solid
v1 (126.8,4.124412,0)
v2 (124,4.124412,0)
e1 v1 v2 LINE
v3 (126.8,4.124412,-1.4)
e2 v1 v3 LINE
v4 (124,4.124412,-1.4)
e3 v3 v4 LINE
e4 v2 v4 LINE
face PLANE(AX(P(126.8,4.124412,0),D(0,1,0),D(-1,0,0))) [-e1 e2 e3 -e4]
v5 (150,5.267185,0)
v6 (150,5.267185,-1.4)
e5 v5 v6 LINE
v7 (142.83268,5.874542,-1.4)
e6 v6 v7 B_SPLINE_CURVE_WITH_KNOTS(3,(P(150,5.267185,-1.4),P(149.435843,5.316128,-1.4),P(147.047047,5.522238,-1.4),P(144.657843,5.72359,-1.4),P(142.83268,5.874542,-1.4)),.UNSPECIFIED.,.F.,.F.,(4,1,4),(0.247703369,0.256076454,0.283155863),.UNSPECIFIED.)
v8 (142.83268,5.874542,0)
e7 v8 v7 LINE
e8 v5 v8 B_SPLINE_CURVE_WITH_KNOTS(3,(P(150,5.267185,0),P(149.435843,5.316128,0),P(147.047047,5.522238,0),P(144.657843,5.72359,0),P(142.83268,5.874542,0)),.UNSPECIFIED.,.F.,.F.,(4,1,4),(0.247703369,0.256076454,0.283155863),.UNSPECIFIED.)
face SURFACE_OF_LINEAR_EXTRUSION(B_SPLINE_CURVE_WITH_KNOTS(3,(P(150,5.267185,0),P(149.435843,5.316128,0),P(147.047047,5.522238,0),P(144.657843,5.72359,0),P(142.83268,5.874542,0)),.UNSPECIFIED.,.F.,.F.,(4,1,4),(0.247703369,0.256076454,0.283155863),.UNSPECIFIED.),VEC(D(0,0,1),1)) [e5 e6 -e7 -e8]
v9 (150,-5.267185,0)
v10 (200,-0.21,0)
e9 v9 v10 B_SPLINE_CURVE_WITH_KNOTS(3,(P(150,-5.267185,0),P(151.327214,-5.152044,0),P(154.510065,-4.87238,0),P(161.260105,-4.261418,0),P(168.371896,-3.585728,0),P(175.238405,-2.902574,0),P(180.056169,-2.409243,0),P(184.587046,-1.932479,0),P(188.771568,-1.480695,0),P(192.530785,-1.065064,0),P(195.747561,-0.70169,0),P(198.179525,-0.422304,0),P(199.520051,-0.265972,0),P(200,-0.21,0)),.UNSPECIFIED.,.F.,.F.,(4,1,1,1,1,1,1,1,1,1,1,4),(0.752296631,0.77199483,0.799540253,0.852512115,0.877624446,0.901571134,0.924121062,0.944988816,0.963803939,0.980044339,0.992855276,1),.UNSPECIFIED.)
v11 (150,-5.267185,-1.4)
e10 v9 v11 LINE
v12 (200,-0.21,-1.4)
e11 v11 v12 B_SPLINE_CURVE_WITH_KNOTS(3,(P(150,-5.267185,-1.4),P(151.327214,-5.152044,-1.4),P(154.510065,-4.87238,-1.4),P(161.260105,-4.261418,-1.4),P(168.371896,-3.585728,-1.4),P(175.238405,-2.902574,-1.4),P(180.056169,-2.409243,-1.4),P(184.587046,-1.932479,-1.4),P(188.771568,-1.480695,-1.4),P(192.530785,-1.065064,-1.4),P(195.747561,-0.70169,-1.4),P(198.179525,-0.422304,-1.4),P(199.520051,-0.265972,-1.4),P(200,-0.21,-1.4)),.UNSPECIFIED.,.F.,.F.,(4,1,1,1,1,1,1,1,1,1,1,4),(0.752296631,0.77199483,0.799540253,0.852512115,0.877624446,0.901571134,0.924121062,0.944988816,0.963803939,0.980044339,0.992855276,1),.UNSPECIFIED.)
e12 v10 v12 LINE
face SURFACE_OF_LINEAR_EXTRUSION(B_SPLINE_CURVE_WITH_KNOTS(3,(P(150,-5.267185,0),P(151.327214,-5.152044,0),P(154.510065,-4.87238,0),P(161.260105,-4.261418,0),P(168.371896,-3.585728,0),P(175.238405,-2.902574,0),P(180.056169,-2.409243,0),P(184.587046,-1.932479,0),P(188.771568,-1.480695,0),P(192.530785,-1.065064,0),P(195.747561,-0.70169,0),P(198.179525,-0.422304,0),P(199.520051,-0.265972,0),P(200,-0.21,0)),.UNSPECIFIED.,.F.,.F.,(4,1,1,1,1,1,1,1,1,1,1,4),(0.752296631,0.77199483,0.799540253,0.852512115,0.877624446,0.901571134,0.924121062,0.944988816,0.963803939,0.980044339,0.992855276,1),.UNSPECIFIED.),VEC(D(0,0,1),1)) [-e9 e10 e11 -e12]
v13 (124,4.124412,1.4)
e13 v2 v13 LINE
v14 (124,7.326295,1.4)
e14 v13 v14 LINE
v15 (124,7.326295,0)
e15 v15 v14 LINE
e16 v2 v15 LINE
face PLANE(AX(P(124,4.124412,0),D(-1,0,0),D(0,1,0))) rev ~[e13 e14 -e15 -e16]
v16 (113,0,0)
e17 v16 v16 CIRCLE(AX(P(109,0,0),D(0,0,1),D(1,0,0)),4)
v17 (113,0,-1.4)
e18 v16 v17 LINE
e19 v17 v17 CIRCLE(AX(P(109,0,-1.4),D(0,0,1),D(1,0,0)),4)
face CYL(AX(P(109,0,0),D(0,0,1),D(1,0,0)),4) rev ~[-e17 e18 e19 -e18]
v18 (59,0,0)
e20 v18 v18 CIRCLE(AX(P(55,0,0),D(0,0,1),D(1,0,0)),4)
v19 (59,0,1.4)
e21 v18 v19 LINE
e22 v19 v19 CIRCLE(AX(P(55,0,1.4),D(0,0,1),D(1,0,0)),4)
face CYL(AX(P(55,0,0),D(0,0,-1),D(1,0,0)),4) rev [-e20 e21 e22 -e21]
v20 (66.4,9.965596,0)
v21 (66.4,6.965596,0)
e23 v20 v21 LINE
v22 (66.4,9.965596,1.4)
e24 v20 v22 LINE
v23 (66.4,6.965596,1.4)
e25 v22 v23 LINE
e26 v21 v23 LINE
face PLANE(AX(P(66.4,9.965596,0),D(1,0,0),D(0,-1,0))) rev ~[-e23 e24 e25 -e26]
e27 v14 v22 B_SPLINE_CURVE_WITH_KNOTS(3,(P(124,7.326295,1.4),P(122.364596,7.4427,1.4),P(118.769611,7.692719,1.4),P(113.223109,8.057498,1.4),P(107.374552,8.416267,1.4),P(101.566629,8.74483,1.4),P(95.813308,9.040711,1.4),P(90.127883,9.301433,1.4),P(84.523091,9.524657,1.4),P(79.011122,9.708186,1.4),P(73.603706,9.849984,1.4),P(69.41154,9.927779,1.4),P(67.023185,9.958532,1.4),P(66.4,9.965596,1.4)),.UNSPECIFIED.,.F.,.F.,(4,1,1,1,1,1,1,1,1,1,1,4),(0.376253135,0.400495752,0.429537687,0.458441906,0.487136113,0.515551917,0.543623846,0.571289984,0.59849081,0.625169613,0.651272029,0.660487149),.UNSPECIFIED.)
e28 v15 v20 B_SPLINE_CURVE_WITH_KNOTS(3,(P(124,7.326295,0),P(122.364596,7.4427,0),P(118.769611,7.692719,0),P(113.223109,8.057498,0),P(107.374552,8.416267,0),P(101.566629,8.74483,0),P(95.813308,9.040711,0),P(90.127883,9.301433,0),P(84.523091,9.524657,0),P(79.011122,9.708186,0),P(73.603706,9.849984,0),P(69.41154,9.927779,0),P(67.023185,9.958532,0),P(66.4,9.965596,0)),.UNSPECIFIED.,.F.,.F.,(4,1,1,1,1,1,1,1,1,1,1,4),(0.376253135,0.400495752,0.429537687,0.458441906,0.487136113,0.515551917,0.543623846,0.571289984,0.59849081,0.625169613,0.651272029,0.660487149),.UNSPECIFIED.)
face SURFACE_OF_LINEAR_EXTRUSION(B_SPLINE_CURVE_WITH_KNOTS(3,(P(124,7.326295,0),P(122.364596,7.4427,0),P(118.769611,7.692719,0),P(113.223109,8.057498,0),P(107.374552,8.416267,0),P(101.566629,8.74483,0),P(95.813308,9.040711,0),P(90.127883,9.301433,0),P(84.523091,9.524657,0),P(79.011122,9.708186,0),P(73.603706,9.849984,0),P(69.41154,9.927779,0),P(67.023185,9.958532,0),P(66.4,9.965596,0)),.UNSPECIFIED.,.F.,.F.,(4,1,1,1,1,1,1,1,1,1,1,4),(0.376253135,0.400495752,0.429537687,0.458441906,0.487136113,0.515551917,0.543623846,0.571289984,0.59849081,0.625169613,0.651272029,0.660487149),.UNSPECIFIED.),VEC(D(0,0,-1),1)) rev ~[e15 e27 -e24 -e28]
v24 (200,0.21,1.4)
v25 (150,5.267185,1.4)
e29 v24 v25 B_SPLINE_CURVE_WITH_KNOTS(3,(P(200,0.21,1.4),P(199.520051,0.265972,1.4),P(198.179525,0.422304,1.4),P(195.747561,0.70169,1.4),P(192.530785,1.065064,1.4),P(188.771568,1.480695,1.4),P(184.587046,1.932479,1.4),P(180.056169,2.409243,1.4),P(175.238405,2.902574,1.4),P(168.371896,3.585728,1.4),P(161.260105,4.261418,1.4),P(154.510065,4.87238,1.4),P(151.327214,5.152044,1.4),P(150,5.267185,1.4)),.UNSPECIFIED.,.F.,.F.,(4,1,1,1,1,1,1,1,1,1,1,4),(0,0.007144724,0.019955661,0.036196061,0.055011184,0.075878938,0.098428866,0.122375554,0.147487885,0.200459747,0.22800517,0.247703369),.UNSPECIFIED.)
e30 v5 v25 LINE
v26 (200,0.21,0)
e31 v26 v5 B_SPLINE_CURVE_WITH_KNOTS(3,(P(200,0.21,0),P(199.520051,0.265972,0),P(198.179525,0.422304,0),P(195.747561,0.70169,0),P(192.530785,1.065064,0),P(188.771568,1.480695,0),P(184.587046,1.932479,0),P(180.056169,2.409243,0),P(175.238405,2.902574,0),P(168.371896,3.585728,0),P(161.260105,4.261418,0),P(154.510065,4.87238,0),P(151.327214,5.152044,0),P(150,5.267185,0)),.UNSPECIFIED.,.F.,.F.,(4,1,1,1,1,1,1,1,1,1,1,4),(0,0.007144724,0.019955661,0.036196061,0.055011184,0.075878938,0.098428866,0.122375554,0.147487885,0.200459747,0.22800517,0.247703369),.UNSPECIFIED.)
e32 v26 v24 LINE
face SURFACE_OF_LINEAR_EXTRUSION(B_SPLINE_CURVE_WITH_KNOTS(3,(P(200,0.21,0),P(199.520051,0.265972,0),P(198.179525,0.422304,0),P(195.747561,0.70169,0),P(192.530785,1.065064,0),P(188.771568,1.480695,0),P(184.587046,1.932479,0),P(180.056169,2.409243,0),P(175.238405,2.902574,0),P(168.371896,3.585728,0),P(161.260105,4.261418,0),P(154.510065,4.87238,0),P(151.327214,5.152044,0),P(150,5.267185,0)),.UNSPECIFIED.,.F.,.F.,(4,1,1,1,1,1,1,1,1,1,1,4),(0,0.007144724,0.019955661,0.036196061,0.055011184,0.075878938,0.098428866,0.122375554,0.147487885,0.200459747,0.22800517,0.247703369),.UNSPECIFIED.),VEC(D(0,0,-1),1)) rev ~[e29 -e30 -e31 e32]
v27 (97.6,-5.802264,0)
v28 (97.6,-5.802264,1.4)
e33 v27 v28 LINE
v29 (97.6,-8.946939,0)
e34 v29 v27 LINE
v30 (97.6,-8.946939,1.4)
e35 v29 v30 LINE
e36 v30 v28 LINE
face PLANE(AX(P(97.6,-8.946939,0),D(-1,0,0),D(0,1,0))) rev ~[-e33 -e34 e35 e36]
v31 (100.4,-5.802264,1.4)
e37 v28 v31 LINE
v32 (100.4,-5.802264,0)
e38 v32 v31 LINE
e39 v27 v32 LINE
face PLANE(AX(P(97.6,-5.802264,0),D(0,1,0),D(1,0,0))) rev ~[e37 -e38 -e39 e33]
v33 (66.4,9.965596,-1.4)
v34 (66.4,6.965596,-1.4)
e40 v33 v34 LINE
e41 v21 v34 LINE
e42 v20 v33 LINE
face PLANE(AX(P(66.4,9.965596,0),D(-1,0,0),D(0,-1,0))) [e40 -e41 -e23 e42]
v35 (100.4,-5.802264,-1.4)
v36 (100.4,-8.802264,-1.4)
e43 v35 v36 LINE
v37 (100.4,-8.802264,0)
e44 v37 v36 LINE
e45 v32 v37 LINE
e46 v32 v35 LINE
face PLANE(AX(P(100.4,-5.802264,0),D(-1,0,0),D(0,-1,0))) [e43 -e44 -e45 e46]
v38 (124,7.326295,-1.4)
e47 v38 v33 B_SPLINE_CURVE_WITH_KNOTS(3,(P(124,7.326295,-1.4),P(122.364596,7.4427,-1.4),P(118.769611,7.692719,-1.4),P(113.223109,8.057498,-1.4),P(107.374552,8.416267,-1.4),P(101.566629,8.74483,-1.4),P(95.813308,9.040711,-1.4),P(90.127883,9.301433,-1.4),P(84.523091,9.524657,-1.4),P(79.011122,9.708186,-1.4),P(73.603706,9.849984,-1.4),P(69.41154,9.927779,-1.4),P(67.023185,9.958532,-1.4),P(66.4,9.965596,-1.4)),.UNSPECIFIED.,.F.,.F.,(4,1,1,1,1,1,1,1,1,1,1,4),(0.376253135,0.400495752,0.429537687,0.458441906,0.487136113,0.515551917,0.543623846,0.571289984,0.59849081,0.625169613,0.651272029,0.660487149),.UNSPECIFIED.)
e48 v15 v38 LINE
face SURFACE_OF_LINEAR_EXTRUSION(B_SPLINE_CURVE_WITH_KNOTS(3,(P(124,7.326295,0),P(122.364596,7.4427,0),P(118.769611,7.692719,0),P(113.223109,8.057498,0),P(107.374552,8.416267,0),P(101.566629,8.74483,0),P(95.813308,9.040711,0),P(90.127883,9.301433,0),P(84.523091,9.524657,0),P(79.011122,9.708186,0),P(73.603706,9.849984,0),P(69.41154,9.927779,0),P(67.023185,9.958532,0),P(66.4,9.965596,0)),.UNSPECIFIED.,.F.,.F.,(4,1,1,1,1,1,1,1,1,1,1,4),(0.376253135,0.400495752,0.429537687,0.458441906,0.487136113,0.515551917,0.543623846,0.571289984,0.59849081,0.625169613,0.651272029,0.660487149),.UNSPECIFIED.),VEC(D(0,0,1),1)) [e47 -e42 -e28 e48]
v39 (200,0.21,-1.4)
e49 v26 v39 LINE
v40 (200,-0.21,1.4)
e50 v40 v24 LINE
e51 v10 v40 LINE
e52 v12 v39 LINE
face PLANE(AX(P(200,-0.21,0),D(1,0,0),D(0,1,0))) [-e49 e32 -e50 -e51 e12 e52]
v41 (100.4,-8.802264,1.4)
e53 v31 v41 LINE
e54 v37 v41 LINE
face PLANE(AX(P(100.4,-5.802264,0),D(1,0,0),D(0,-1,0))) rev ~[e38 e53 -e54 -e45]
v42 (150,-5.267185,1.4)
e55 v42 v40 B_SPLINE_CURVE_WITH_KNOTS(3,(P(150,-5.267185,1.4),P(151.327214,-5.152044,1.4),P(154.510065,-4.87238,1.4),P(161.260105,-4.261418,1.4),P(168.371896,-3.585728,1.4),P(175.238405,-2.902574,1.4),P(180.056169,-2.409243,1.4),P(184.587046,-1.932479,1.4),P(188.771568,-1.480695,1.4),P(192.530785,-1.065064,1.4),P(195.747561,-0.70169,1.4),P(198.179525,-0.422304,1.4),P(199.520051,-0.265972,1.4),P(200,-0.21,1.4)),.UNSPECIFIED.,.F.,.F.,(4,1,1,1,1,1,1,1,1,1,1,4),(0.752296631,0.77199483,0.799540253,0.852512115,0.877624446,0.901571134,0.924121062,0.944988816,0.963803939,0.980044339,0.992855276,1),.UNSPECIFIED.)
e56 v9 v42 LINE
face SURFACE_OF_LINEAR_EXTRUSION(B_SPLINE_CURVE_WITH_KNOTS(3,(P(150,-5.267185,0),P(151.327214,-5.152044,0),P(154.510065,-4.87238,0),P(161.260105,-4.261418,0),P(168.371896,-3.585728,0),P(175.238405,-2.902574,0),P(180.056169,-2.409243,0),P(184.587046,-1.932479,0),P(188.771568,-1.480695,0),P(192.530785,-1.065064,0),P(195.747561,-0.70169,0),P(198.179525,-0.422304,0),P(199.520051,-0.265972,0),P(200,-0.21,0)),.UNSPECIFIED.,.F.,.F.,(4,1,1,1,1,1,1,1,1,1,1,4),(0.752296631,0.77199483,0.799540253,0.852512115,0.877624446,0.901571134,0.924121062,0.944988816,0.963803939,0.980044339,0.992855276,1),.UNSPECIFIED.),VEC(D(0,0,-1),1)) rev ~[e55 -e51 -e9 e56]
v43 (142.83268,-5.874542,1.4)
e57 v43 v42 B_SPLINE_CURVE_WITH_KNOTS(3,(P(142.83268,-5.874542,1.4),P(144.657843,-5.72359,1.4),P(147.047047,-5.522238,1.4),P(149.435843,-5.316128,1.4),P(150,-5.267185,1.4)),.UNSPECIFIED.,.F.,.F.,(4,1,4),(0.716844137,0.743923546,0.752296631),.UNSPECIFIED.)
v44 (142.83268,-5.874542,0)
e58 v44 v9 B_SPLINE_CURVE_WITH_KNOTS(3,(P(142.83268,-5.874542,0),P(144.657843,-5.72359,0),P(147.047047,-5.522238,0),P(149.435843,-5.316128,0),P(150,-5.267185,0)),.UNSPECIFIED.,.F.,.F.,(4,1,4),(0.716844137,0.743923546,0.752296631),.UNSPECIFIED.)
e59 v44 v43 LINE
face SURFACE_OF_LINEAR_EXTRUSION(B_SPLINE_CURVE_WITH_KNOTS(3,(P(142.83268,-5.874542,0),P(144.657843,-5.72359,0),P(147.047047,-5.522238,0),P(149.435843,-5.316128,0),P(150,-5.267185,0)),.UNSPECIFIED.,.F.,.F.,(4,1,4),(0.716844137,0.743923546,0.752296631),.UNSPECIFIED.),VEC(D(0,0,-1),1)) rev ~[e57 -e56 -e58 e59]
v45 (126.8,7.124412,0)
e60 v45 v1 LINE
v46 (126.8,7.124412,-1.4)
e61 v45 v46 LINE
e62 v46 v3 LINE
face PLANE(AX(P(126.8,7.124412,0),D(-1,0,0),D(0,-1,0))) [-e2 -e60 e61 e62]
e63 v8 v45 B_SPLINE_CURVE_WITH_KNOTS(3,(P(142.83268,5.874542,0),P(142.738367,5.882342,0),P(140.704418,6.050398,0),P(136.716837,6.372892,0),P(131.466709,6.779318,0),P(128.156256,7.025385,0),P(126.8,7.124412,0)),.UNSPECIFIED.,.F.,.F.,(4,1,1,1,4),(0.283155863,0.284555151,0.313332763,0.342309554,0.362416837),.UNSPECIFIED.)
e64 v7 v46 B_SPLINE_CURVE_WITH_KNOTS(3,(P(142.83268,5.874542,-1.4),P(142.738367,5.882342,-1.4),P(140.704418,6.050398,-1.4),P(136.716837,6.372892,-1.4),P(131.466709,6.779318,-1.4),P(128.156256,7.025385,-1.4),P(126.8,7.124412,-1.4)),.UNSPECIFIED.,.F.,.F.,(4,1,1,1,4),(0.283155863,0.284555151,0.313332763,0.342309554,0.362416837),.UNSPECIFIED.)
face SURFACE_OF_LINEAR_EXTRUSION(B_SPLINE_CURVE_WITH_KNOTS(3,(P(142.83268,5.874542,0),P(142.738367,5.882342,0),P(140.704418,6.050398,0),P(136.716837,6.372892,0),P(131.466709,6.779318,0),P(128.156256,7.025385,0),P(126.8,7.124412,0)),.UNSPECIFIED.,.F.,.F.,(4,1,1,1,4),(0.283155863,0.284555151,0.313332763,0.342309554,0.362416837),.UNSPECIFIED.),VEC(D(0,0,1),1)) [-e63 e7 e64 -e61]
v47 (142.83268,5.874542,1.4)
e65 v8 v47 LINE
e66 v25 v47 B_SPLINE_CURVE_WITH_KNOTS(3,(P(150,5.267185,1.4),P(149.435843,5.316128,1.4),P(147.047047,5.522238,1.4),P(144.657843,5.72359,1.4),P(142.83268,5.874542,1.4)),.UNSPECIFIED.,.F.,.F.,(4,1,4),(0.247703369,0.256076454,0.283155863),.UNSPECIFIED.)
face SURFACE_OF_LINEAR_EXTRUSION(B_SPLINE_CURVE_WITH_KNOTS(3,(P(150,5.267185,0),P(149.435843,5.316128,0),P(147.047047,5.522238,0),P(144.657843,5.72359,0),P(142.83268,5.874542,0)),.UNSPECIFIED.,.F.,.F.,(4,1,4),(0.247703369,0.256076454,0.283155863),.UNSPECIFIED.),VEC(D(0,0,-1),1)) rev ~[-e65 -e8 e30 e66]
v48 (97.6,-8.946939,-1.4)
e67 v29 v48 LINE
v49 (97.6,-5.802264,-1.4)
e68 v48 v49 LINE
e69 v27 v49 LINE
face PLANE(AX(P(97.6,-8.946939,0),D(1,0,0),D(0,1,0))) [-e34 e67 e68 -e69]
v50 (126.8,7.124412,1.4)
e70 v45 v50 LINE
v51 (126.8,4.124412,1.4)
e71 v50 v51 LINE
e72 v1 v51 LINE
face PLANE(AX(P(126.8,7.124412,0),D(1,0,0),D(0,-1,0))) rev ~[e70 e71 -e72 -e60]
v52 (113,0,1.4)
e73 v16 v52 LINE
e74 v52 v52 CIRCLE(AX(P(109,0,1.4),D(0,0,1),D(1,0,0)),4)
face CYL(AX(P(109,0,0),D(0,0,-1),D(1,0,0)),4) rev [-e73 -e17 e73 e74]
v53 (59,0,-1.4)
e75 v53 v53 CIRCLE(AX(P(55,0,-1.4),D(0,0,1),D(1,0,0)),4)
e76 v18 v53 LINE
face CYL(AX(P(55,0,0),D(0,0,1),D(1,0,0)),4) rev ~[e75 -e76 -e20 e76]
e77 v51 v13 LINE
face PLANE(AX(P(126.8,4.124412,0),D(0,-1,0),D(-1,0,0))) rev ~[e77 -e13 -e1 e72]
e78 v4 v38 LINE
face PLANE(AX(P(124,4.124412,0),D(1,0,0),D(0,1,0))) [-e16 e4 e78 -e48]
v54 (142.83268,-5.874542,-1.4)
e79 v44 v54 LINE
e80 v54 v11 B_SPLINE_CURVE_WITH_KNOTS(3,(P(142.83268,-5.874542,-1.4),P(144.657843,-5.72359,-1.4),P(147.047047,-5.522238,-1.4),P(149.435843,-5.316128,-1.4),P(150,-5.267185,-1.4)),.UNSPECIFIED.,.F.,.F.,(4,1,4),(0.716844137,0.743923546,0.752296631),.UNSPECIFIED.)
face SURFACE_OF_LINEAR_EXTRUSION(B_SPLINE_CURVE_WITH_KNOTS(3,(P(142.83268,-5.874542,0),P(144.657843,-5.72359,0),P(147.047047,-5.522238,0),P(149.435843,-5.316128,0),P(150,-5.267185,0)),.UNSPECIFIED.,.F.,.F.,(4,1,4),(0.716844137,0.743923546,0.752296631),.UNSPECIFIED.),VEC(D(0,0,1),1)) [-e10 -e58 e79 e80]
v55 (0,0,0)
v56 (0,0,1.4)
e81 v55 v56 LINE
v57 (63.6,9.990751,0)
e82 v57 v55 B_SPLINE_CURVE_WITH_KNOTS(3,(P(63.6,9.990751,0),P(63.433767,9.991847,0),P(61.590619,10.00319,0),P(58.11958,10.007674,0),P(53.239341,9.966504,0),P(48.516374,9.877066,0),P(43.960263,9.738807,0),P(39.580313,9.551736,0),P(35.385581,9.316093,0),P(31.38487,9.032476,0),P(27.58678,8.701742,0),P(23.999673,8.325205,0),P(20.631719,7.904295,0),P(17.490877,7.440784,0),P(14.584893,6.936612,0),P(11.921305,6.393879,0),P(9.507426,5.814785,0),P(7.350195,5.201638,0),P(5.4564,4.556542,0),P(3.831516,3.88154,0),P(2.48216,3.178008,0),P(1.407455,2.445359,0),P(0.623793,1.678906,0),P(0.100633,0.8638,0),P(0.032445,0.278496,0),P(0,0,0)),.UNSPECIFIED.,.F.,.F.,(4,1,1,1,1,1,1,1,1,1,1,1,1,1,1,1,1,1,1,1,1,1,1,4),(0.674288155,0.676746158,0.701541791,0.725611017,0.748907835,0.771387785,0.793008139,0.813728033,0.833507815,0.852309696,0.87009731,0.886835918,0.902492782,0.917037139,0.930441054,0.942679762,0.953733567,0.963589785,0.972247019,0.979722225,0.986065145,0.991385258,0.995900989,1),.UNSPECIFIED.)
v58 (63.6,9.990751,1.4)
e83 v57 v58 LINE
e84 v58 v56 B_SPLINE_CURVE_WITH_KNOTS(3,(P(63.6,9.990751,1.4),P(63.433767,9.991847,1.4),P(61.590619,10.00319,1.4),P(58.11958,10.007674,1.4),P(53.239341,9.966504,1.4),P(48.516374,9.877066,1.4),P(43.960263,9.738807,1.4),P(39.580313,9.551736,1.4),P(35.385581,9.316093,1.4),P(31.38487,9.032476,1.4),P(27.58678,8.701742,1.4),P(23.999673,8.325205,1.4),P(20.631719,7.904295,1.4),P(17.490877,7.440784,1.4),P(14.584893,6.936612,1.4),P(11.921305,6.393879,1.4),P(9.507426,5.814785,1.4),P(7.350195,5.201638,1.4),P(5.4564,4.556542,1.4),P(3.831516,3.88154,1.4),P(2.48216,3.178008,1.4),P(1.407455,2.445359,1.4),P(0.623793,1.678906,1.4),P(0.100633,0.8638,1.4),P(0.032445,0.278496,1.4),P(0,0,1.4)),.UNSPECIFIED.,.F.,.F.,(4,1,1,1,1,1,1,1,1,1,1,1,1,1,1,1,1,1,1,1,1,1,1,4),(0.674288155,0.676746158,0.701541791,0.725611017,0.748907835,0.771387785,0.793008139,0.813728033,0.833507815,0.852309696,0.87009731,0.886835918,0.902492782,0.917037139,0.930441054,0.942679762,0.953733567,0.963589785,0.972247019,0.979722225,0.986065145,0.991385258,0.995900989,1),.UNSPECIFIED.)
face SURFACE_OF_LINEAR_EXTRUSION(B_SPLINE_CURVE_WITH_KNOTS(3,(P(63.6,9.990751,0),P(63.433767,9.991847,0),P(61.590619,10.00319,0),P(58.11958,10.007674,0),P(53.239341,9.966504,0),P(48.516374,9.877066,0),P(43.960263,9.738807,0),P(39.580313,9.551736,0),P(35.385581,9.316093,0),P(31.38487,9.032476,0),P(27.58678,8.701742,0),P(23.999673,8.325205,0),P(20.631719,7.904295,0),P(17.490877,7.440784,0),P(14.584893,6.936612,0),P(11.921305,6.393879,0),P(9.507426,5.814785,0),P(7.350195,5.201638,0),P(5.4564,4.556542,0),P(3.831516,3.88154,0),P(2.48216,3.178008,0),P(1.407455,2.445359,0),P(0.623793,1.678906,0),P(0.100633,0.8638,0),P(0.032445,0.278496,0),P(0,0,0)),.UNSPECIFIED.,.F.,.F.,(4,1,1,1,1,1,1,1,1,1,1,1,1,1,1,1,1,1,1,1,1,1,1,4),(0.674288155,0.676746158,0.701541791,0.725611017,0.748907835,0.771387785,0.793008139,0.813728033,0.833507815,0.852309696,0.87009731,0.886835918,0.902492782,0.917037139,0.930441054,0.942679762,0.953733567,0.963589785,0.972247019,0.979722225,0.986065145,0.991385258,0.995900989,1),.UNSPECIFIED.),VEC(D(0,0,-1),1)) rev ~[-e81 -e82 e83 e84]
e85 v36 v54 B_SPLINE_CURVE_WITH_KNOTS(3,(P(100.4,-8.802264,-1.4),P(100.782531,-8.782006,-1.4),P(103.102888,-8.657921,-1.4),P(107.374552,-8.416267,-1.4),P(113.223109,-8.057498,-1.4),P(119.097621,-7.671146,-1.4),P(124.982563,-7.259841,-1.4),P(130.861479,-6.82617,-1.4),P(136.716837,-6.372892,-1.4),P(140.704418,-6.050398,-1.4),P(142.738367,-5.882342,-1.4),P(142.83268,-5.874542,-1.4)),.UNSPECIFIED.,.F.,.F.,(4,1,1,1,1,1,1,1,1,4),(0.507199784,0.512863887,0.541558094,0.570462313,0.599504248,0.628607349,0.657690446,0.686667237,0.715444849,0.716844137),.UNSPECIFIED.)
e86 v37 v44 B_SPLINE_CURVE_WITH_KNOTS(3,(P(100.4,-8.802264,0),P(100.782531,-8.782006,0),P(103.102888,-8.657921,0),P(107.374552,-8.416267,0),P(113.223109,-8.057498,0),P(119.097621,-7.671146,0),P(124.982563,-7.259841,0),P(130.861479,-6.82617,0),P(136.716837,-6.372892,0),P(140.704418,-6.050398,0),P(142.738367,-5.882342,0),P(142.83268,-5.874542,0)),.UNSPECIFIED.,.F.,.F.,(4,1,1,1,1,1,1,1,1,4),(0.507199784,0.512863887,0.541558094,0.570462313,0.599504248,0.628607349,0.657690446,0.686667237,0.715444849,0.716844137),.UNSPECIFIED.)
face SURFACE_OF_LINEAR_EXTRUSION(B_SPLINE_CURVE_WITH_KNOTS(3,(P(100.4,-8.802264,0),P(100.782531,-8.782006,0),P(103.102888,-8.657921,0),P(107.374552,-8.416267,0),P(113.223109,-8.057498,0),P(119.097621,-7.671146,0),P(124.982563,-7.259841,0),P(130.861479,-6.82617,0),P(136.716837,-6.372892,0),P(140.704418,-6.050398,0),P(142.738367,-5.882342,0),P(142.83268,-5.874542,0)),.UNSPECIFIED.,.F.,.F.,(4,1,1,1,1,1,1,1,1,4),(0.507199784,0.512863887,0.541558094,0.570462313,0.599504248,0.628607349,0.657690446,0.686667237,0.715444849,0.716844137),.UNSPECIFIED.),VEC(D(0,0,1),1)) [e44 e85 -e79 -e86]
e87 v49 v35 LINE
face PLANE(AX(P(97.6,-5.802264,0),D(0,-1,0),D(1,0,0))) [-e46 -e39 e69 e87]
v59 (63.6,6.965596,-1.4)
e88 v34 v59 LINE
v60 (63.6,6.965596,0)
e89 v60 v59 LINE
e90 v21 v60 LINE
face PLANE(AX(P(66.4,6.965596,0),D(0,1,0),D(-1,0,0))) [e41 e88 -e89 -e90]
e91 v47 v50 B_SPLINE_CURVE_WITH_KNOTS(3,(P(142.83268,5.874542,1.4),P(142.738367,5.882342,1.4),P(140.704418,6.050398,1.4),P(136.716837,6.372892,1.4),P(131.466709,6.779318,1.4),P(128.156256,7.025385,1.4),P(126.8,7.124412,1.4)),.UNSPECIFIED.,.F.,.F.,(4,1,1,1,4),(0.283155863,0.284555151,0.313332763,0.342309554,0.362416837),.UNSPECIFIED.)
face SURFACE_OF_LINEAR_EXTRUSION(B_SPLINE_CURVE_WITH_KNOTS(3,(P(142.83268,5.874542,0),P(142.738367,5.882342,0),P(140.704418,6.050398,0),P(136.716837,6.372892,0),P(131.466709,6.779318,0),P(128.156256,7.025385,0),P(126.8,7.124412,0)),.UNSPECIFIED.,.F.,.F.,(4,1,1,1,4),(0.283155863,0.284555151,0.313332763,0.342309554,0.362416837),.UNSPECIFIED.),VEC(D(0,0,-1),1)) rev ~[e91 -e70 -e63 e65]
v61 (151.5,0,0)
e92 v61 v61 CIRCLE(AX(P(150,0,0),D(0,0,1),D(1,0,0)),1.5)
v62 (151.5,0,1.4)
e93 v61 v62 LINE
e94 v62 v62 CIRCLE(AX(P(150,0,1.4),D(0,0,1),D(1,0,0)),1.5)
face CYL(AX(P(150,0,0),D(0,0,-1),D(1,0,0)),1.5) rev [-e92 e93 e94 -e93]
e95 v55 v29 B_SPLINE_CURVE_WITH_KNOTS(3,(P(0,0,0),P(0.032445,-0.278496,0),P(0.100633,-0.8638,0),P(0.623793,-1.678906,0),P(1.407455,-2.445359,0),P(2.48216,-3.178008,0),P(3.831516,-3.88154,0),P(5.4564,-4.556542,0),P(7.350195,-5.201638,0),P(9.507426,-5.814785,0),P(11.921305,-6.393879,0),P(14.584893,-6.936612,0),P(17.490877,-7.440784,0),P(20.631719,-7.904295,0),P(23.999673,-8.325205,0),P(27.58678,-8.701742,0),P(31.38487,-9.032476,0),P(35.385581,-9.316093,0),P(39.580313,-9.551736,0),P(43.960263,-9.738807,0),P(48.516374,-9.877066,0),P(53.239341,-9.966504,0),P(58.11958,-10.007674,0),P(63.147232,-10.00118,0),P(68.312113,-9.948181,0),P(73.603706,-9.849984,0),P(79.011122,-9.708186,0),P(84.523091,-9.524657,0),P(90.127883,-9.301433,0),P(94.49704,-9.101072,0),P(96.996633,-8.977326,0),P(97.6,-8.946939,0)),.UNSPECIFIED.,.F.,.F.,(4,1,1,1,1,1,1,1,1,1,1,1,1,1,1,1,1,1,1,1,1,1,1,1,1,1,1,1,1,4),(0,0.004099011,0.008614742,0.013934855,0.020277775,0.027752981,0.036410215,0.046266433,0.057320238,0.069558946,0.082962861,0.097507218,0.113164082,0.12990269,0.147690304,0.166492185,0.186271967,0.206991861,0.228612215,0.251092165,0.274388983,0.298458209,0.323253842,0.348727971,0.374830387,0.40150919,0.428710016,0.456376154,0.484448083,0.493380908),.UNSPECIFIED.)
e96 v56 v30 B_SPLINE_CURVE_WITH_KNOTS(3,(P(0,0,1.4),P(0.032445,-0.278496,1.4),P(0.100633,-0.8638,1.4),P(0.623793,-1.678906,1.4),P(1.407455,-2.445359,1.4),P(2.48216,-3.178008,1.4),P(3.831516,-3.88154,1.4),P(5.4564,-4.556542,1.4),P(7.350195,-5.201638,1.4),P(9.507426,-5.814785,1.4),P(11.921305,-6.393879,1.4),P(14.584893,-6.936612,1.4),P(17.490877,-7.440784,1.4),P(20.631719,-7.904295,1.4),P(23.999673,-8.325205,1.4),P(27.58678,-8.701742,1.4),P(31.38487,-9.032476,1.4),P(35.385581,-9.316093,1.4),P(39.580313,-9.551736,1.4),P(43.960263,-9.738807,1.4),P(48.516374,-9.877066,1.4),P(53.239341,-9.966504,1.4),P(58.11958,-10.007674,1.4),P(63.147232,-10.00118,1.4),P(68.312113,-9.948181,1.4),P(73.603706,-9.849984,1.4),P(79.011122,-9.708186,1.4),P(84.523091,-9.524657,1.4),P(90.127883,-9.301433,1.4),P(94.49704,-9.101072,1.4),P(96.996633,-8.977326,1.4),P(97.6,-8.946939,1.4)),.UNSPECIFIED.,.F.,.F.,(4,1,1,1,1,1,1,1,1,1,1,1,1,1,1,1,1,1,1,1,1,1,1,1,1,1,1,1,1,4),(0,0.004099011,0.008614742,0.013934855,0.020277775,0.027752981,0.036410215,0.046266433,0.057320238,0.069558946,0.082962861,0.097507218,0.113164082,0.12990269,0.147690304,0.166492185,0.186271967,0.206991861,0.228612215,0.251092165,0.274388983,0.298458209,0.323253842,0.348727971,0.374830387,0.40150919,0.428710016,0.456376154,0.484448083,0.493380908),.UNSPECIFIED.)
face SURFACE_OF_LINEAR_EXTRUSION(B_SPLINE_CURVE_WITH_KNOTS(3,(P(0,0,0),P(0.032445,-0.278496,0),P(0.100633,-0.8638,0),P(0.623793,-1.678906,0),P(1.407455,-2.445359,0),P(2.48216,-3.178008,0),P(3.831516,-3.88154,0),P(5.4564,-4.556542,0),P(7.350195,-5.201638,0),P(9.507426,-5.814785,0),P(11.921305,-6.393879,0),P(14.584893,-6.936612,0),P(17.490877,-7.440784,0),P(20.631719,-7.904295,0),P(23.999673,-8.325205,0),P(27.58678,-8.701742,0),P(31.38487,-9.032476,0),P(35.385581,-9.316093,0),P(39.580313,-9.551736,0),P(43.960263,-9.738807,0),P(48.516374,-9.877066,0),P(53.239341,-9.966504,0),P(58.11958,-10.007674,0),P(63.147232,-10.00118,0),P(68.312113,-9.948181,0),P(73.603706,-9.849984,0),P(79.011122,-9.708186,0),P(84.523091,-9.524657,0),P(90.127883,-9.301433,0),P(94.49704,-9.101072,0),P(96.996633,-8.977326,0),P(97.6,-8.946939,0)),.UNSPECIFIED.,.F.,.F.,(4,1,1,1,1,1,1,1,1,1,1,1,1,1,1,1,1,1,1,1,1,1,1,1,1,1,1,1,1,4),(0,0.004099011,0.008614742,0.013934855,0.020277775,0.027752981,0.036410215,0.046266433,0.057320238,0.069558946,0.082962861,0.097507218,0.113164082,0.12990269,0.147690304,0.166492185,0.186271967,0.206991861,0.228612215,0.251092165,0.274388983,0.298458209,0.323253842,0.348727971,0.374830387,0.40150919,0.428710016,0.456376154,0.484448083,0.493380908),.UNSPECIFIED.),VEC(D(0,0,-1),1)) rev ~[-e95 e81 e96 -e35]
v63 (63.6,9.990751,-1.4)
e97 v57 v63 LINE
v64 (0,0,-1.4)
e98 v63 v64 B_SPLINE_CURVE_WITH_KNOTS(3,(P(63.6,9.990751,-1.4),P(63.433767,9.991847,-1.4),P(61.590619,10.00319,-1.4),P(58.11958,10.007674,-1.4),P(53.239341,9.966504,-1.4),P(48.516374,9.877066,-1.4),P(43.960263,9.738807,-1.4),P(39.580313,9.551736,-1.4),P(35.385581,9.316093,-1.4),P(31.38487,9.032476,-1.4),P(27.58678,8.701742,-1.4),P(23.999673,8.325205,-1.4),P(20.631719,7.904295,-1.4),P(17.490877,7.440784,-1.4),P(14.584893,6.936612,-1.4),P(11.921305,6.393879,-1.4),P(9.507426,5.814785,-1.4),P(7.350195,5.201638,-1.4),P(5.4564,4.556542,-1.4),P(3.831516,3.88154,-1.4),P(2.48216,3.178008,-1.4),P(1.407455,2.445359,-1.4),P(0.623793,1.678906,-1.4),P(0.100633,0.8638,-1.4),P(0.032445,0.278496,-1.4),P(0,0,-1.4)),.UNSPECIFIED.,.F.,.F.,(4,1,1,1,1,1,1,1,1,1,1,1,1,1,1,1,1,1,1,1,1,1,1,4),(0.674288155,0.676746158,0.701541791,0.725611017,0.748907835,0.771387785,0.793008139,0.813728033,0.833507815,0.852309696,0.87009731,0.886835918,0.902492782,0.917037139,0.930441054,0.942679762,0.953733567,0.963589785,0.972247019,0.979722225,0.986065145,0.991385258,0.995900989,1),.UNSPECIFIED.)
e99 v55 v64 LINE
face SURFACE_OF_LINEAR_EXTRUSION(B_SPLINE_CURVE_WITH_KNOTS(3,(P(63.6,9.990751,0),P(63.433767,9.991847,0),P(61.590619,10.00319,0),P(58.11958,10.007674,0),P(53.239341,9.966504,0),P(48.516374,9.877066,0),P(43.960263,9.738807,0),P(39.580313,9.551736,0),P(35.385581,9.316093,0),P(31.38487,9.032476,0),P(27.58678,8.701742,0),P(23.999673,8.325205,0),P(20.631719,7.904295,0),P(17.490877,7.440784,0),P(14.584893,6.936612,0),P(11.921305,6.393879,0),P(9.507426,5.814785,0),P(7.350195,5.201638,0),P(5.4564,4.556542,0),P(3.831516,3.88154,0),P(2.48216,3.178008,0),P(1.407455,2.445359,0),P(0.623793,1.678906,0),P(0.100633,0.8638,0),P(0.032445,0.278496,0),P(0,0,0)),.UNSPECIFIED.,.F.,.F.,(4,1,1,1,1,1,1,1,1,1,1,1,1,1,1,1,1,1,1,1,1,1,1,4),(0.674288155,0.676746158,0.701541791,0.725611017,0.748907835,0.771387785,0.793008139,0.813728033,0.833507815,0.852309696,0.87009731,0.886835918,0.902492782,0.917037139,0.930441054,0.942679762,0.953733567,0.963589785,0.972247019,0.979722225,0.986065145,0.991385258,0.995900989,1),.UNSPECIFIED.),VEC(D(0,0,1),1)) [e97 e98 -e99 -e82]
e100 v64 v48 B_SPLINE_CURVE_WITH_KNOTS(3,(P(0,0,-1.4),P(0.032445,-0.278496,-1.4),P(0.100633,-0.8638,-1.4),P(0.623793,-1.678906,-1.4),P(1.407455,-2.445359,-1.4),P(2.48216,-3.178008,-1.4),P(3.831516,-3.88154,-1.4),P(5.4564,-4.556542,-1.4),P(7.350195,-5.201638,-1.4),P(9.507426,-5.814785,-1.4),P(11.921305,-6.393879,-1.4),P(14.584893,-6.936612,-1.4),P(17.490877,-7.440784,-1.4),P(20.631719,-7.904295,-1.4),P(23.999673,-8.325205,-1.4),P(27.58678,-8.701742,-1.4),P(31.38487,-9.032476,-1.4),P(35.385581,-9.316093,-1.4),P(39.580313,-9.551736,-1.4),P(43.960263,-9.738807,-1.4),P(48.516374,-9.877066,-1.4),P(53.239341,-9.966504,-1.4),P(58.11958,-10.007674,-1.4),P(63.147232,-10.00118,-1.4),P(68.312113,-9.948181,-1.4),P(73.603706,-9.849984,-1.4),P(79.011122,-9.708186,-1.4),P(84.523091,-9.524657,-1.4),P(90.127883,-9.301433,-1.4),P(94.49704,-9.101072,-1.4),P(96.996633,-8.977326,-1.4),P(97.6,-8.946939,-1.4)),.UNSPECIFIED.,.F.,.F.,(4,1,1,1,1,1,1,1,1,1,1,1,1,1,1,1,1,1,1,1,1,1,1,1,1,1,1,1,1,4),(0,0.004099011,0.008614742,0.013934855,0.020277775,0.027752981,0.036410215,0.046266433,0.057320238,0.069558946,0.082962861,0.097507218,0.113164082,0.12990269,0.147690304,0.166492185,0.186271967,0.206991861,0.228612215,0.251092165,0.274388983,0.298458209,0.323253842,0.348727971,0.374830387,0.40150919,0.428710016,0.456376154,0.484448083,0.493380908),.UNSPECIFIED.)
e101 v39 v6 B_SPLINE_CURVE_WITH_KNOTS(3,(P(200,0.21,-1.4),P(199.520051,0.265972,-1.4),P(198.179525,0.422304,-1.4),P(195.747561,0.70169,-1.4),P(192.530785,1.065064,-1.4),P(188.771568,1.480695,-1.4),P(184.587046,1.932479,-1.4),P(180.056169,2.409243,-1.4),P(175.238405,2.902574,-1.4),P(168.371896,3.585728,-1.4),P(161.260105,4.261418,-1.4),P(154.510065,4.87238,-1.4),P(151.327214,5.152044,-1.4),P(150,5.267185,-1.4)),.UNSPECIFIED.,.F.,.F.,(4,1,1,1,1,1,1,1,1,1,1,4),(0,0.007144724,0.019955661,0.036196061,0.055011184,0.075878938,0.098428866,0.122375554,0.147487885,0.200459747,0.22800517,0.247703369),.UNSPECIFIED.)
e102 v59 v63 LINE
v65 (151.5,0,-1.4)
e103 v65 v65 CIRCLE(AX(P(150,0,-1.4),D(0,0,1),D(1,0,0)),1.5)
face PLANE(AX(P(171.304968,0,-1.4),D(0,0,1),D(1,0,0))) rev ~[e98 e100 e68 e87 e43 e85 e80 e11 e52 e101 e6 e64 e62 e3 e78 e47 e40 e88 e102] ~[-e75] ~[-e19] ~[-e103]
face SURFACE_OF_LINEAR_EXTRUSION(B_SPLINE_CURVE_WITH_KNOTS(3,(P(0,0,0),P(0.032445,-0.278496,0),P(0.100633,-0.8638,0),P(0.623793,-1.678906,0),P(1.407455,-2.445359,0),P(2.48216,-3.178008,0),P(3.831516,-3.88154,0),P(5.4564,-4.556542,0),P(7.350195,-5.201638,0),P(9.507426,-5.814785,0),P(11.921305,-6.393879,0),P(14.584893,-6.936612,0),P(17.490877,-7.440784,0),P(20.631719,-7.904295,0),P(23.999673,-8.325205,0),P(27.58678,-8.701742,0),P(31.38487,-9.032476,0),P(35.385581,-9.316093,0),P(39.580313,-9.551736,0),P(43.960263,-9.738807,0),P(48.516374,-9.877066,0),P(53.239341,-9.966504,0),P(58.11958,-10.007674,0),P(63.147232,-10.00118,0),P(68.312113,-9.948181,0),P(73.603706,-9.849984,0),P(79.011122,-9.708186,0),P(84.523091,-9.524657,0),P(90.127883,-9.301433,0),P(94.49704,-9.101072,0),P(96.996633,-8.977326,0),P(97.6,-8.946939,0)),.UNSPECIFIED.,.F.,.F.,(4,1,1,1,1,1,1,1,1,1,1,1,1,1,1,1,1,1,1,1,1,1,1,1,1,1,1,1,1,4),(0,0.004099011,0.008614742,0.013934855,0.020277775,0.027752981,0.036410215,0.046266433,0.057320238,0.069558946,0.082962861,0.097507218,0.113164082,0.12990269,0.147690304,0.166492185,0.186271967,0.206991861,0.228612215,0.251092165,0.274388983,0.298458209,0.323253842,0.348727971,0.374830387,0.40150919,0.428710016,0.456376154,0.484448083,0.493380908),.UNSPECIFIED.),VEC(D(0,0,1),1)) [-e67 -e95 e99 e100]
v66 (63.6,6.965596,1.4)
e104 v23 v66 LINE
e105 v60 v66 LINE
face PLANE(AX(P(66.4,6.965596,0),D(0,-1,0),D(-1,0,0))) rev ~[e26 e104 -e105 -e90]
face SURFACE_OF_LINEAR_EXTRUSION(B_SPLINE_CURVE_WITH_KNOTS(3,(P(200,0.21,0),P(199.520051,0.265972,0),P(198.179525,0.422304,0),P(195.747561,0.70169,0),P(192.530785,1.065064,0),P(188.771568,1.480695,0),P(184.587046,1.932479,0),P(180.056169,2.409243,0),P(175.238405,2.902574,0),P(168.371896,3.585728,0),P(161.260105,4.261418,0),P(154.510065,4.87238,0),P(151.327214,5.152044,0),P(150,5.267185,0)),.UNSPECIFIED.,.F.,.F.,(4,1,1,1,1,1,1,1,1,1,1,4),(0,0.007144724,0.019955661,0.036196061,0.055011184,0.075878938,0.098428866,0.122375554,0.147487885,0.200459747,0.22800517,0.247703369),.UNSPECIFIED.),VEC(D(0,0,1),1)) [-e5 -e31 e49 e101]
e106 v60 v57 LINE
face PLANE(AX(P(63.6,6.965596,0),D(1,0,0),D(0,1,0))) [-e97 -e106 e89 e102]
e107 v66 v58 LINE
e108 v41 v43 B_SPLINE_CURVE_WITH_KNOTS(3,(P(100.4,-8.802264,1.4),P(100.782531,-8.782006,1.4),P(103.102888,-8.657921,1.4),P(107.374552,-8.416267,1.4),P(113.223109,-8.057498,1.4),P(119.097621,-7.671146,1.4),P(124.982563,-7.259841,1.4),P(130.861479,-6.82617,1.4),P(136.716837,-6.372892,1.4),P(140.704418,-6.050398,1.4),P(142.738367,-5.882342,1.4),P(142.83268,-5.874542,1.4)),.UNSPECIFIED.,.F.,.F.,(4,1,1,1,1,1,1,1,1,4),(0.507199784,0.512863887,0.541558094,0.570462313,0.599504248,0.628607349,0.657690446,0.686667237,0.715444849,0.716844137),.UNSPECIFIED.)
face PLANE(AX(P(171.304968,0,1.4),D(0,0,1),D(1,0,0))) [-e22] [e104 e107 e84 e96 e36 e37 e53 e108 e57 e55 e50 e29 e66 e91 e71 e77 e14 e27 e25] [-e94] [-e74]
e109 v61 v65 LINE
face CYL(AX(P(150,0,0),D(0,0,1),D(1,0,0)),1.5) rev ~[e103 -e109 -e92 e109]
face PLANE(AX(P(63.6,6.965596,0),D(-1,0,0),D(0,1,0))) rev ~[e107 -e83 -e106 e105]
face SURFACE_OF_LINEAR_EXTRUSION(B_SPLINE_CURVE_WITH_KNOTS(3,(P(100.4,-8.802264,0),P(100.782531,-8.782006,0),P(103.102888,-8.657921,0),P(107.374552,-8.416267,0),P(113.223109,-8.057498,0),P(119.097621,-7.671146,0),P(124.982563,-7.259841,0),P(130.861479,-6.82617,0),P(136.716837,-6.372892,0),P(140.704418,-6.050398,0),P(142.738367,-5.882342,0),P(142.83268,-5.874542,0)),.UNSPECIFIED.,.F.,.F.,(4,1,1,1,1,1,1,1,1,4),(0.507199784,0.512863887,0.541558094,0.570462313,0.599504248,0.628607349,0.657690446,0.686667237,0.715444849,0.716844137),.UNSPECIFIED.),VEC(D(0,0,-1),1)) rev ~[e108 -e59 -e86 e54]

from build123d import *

# Parameters (mm, degrees)
SKETCH_3_R      = 4
SKETCH_3_R_2    = 1.5
EXTRUDE_1_DEPTH = 1.4


with BuildPart() as part:
    # Эскиз3 → Бобышка-Вытянуть1 (new, symmetric)
    # profile 1 of 3: a face of its own
    with BuildSketch(Plane.XY):
        with BuildLine():
            ThreePointArc((142.832679674, -5.874542072), (140.732814602, 0), (142.832679674, 5.874542072))
            add(Edge.make_bspline(
                [(142.832679674, 5.874542072), (142.738367078, 5.882342313), (140.704418314, 6.050397669), (136.716836604, 6.372892076), (131.466708661, 6.779317653), (128.156255998, 7.025385403), (126.8, 7.124412105)],
                knots=[0.283155863, 0.283155863, 0.283155863, 0.283155863, 0.284555151, 0.313332763, 0.342309554, 0.362416837, 0.362416837, 0.362416837, 0.362416837], degree=3))
            Line((126.8, 7.124412105), (126.8, 4.124412105))
            Line((126.8, 4.124412105), (124, 4.124412105))
            Line((124, 4.124412105), (124, 7.326294797))
            add(Edge.make_bspline(
                [(124, 7.326294797), (122.364596134, 7.442700413), (118.769611386, 7.692718614), (113.223109349, 8.057497647), (107.374551667, 8.416266925), (101.566628903, 8.744829808), (95.813307617, 9.040711105), (90.127882502, 9.301433286), (84.52309051, 9.524657051), (79.011121778, 9.708185508), (73.603706202, 9.849984193), (69.41154014, 9.927778606), (67.023185068, 9.958531818), (66.4, 9.965595937)],
                knots=[0.376253135, 0.376253135, 0.376253135, 0.376253135, 0.400495752, 0.429537687, 0.458441906, 0.487136113, 0.515551917, 0.543623846, 0.571289984, 0.59849081, 0.625169613, 0.651272029, 0.660487149, 0.660487149, 0.660487149, 0.660487149], degree=3))
            Line((66.4, 9.965595937), (66.4, 6.965595937))
            Line((66.4, 6.965595937), (63.6, 6.965595937))
            Line((63.6, 6.965595937), (63.6, 9.990751447))
            add(Edge.make_bspline(
                [(63.599999999, 9.990751447), (63.433767139, 9.991846739), (61.590618822, 10.003190391), (58.119580475, 10.007674079), (53.239340889, 9.96650448), (48.51637403, 9.877065972), (43.960263434, 9.738807032), (39.580313292, 9.551735955), (35.385580653, 9.316092874), (31.384869897, 9.032475932), (27.586779877, 8.701741845), (23.999672572, 8.325205071), (20.631718928, 7.904294519), (17.490877441, 7.44078362), (14.58489291, 6.936612431), (11.921305119, 6.393879384), (9.507426038, 5.81478546), (7.350195056, 5.201638101), (5.45639967, 4.556541724), (3.831515725, 3.88154028), (2.48215991, 3.178007515), (1.407454518, 2.445359098), (0.62379252, 1.678905598), (0.100633198, 0.863800259), (0.032444913, 0.278495812), (0, 0)],
                knots=[0.674288155, 0.674288155, 0.674288155, 0.674288155, 0.676746158, 0.701541791, 0.725611017, 0.748907835, 0.771387785, 0.793008139, 0.813728033, 0.833507815, 0.852309696, 0.87009731, 0.886835918, 0.902492782, 0.917037139, 0.930441054, 0.942679762, 0.953733567, 0.963589785, 0.972247019, 0.979722225, 0.986065145, 0.991385258, 0.995900989, 1, 1, 1, 1], degree=3))
            add(Edge.make_bspline(
                [(0, 0), (0.032444913, -0.278495812), (0.100633198, -0.863800259), (0.62379252, -1.678905598), (1.407454518, -2.445359098), (2.48215991, -3.178007515), (3.831515725, -3.88154028), (5.45639967, -4.556541724), (7.350195056, -5.201638101), (9.507426038, -5.81478546), (11.921305119, -6.393879384), (14.58489291, -6.936612431), (17.490877441, -7.44078362), (20.631718928, -7.904294519), (23.999672572, -8.325205071), (27.586779877, -8.701741845), (31.384869897, -9.032475932), (35.385580653, -9.316092874), (39.580313292, -9.551735955), (43.960263434, -9.738807032), (48.51637403, -9.877065972), (53.239340889, -9.96650448), (58.119580475, -10.007674079), (63.147232299, -10.001179647), (68.312112852, -9.948180779), (73.603706202, -9.849984193), (79.011121778, -9.708185508), (84.52309051, -9.524657051), (90.127882502, -9.301433286), (94.497039971, -9.101072496), (96.996632606, -8.97732649), (97.6, -8.946938935)],
                knots=[0, 0, 0, 0, 0.004099011, 0.008614742, 0.013934855, 0.020277775, 0.027752981, 0.036410215, 0.046266433, 0.057320238, 0.069558946, 0.082962861, 0.097507218, 0.113164082, 0.12990269, 0.147690304, 0.166492185, 0.186271967, 0.206991861, 0.228612215, 0.251092165, 0.274388983, 0.298458209, 0.323253842, 0.348727971, 0.374830387, 0.40150919, 0.428710016, 0.456376154, 0.484448083, 0.493380908, 0.493380908, 0.493380908, 0.493380908], degree=3))
            Line((97.6, -8.946938935), (97.6, -5.802264))
            Line((97.6, -5.802264), (100.4, -5.802264))
            Line((100.4, -5.802264), (100.4, -8.802264))
            add(Edge.make_bspline(
                [(100.4, -8.802264), (100.782530515, -8.78200637), (103.102887785, -8.657921344), (107.374551667, -8.416266925), (113.223109349, -8.057497647), (119.097620698, -7.671146294), (124.98256269, -7.259840679), (130.861479372, -6.826169971), (136.716836604, -6.372892076), (140.704418314, -6.050397669), (142.738367078, -5.882342313), (142.832679674, -5.874542072)],
                knots=[0.507199784, 0.507199784, 0.507199784, 0.507199784, 0.512863887, 0.541558094, 0.570462313, 0.599504248, 0.628607349, 0.657690446, 0.686667237, 0.715444849, 0.716844137, 0.716844137, 0.716844137, 0.716844137], degree=3))
        make_face()
        with Locations((55, 0)):
            Circle(SKETCH_3_R, mode=Mode.SUBTRACT)
        with Locations((109, 0)):
            Circle(SKETCH_3_R, mode=Mode.SUBTRACT)
    # profile 2 of 3: a face of its own
    with BuildSketch(Plane.XY):
        with BuildLine():
            ThreePointArc((150, -5.267185398), (144.732814602, 0), (150, 5.267185398))
            add(Edge.make_bspline(
                [(150, 5.267185398), (149.435842895, 5.316128425), (147.047047026, 5.522238119), (144.657842763, 5.723589679), (142.832679674, 5.874542072)],
                knots=[0.247703369, 0.247703369, 0.247703369, 0.247703369, 0.256076454, 0.283155863, 0.283155863, 0.283155863, 0.283155863], degree=3))
            ThreePointArc((142.832679674, 5.874542072), (140.732814602, 0), (142.832679674, -5.874542072))
            add(Edge.make_bspline(
                [(142.832679674, -5.874542072), (144.657842763, -5.723589679), (147.047047026, -5.522238119), (149.435842895, -5.316128425), (150, -5.267185398)],
                knots=[0.716844137, 0.716844137, 0.716844137, 0.716844137, 0.743923546, 0.752296631, 0.752296631, 0.752296631, 0.752296631], degree=3))
        make_face()
    # profile 3 of 3: a face of its own
    with BuildSketch(Plane.XY):
        with BuildLine():
            Line((200, -0.21), (200, 0.21))
            add(Edge.make_bspline(
                [(200, 0.21), (199.520051416, 0.265971644), (198.179524953, 0.422303954), (195.747560944, 0.701689979), (192.530784687, 1.065063842), (188.771568451, 1.480695182), (184.58704572, 1.932479181), (180.05616868, 2.409243063), (175.238405485, 2.90257428), (168.371896377, 3.585728287), (161.260104983, 4.261418012), (154.510064634, 4.872380257), (151.327214442, 5.152043902), (150, 5.267185398)],
                knots=[0, 0, 0, 0, 0.007144724, 0.019955661, 0.036196061, 0.055011184, 0.075878938, 0.098428866, 0.122375554, 0.147487885, 0.200459747, 0.22800517, 0.247703369, 0.247703369, 0.247703369, 0.247703369], degree=3))
            ThreePointArc((150, 5.267185398), (144.732814602, 0), (150, -5.267185398))
            add(Edge.make_bspline(
                [(150, -5.267185398), (151.327214442, -5.152043902), (154.510064634, -4.872380257), (161.260104983, -4.261418012), (168.371896377, -3.585728287), (175.238405485, -2.90257428), (180.05616868, -2.409243063), (184.58704572, -1.932479181), (188.771568451, -1.480695182), (192.530784687, -1.065063842), (195.747560944, -0.701689979), (198.179524953, -0.422303954), (199.520051416, -0.265971644), (200, -0.21)],
                knots=[0.752296631, 0.752296631, 0.752296631, 0.752296631, 0.77199483, 0.799540253, 0.852512115, 0.877624446, 0.901571134, 0.924121062, 0.944988816, 0.963803939, 0.980044339, 0.992855276, 1, 1, 1, 1], degree=3))
        make_face()
        with Locations((150, 0)):
            Circle(SKETCH_3_R_2, mode=Mode.SUBTRACT)
    extrude(amount=EXTRUDE_1_DEPTH, both=True)


solid = part.part
